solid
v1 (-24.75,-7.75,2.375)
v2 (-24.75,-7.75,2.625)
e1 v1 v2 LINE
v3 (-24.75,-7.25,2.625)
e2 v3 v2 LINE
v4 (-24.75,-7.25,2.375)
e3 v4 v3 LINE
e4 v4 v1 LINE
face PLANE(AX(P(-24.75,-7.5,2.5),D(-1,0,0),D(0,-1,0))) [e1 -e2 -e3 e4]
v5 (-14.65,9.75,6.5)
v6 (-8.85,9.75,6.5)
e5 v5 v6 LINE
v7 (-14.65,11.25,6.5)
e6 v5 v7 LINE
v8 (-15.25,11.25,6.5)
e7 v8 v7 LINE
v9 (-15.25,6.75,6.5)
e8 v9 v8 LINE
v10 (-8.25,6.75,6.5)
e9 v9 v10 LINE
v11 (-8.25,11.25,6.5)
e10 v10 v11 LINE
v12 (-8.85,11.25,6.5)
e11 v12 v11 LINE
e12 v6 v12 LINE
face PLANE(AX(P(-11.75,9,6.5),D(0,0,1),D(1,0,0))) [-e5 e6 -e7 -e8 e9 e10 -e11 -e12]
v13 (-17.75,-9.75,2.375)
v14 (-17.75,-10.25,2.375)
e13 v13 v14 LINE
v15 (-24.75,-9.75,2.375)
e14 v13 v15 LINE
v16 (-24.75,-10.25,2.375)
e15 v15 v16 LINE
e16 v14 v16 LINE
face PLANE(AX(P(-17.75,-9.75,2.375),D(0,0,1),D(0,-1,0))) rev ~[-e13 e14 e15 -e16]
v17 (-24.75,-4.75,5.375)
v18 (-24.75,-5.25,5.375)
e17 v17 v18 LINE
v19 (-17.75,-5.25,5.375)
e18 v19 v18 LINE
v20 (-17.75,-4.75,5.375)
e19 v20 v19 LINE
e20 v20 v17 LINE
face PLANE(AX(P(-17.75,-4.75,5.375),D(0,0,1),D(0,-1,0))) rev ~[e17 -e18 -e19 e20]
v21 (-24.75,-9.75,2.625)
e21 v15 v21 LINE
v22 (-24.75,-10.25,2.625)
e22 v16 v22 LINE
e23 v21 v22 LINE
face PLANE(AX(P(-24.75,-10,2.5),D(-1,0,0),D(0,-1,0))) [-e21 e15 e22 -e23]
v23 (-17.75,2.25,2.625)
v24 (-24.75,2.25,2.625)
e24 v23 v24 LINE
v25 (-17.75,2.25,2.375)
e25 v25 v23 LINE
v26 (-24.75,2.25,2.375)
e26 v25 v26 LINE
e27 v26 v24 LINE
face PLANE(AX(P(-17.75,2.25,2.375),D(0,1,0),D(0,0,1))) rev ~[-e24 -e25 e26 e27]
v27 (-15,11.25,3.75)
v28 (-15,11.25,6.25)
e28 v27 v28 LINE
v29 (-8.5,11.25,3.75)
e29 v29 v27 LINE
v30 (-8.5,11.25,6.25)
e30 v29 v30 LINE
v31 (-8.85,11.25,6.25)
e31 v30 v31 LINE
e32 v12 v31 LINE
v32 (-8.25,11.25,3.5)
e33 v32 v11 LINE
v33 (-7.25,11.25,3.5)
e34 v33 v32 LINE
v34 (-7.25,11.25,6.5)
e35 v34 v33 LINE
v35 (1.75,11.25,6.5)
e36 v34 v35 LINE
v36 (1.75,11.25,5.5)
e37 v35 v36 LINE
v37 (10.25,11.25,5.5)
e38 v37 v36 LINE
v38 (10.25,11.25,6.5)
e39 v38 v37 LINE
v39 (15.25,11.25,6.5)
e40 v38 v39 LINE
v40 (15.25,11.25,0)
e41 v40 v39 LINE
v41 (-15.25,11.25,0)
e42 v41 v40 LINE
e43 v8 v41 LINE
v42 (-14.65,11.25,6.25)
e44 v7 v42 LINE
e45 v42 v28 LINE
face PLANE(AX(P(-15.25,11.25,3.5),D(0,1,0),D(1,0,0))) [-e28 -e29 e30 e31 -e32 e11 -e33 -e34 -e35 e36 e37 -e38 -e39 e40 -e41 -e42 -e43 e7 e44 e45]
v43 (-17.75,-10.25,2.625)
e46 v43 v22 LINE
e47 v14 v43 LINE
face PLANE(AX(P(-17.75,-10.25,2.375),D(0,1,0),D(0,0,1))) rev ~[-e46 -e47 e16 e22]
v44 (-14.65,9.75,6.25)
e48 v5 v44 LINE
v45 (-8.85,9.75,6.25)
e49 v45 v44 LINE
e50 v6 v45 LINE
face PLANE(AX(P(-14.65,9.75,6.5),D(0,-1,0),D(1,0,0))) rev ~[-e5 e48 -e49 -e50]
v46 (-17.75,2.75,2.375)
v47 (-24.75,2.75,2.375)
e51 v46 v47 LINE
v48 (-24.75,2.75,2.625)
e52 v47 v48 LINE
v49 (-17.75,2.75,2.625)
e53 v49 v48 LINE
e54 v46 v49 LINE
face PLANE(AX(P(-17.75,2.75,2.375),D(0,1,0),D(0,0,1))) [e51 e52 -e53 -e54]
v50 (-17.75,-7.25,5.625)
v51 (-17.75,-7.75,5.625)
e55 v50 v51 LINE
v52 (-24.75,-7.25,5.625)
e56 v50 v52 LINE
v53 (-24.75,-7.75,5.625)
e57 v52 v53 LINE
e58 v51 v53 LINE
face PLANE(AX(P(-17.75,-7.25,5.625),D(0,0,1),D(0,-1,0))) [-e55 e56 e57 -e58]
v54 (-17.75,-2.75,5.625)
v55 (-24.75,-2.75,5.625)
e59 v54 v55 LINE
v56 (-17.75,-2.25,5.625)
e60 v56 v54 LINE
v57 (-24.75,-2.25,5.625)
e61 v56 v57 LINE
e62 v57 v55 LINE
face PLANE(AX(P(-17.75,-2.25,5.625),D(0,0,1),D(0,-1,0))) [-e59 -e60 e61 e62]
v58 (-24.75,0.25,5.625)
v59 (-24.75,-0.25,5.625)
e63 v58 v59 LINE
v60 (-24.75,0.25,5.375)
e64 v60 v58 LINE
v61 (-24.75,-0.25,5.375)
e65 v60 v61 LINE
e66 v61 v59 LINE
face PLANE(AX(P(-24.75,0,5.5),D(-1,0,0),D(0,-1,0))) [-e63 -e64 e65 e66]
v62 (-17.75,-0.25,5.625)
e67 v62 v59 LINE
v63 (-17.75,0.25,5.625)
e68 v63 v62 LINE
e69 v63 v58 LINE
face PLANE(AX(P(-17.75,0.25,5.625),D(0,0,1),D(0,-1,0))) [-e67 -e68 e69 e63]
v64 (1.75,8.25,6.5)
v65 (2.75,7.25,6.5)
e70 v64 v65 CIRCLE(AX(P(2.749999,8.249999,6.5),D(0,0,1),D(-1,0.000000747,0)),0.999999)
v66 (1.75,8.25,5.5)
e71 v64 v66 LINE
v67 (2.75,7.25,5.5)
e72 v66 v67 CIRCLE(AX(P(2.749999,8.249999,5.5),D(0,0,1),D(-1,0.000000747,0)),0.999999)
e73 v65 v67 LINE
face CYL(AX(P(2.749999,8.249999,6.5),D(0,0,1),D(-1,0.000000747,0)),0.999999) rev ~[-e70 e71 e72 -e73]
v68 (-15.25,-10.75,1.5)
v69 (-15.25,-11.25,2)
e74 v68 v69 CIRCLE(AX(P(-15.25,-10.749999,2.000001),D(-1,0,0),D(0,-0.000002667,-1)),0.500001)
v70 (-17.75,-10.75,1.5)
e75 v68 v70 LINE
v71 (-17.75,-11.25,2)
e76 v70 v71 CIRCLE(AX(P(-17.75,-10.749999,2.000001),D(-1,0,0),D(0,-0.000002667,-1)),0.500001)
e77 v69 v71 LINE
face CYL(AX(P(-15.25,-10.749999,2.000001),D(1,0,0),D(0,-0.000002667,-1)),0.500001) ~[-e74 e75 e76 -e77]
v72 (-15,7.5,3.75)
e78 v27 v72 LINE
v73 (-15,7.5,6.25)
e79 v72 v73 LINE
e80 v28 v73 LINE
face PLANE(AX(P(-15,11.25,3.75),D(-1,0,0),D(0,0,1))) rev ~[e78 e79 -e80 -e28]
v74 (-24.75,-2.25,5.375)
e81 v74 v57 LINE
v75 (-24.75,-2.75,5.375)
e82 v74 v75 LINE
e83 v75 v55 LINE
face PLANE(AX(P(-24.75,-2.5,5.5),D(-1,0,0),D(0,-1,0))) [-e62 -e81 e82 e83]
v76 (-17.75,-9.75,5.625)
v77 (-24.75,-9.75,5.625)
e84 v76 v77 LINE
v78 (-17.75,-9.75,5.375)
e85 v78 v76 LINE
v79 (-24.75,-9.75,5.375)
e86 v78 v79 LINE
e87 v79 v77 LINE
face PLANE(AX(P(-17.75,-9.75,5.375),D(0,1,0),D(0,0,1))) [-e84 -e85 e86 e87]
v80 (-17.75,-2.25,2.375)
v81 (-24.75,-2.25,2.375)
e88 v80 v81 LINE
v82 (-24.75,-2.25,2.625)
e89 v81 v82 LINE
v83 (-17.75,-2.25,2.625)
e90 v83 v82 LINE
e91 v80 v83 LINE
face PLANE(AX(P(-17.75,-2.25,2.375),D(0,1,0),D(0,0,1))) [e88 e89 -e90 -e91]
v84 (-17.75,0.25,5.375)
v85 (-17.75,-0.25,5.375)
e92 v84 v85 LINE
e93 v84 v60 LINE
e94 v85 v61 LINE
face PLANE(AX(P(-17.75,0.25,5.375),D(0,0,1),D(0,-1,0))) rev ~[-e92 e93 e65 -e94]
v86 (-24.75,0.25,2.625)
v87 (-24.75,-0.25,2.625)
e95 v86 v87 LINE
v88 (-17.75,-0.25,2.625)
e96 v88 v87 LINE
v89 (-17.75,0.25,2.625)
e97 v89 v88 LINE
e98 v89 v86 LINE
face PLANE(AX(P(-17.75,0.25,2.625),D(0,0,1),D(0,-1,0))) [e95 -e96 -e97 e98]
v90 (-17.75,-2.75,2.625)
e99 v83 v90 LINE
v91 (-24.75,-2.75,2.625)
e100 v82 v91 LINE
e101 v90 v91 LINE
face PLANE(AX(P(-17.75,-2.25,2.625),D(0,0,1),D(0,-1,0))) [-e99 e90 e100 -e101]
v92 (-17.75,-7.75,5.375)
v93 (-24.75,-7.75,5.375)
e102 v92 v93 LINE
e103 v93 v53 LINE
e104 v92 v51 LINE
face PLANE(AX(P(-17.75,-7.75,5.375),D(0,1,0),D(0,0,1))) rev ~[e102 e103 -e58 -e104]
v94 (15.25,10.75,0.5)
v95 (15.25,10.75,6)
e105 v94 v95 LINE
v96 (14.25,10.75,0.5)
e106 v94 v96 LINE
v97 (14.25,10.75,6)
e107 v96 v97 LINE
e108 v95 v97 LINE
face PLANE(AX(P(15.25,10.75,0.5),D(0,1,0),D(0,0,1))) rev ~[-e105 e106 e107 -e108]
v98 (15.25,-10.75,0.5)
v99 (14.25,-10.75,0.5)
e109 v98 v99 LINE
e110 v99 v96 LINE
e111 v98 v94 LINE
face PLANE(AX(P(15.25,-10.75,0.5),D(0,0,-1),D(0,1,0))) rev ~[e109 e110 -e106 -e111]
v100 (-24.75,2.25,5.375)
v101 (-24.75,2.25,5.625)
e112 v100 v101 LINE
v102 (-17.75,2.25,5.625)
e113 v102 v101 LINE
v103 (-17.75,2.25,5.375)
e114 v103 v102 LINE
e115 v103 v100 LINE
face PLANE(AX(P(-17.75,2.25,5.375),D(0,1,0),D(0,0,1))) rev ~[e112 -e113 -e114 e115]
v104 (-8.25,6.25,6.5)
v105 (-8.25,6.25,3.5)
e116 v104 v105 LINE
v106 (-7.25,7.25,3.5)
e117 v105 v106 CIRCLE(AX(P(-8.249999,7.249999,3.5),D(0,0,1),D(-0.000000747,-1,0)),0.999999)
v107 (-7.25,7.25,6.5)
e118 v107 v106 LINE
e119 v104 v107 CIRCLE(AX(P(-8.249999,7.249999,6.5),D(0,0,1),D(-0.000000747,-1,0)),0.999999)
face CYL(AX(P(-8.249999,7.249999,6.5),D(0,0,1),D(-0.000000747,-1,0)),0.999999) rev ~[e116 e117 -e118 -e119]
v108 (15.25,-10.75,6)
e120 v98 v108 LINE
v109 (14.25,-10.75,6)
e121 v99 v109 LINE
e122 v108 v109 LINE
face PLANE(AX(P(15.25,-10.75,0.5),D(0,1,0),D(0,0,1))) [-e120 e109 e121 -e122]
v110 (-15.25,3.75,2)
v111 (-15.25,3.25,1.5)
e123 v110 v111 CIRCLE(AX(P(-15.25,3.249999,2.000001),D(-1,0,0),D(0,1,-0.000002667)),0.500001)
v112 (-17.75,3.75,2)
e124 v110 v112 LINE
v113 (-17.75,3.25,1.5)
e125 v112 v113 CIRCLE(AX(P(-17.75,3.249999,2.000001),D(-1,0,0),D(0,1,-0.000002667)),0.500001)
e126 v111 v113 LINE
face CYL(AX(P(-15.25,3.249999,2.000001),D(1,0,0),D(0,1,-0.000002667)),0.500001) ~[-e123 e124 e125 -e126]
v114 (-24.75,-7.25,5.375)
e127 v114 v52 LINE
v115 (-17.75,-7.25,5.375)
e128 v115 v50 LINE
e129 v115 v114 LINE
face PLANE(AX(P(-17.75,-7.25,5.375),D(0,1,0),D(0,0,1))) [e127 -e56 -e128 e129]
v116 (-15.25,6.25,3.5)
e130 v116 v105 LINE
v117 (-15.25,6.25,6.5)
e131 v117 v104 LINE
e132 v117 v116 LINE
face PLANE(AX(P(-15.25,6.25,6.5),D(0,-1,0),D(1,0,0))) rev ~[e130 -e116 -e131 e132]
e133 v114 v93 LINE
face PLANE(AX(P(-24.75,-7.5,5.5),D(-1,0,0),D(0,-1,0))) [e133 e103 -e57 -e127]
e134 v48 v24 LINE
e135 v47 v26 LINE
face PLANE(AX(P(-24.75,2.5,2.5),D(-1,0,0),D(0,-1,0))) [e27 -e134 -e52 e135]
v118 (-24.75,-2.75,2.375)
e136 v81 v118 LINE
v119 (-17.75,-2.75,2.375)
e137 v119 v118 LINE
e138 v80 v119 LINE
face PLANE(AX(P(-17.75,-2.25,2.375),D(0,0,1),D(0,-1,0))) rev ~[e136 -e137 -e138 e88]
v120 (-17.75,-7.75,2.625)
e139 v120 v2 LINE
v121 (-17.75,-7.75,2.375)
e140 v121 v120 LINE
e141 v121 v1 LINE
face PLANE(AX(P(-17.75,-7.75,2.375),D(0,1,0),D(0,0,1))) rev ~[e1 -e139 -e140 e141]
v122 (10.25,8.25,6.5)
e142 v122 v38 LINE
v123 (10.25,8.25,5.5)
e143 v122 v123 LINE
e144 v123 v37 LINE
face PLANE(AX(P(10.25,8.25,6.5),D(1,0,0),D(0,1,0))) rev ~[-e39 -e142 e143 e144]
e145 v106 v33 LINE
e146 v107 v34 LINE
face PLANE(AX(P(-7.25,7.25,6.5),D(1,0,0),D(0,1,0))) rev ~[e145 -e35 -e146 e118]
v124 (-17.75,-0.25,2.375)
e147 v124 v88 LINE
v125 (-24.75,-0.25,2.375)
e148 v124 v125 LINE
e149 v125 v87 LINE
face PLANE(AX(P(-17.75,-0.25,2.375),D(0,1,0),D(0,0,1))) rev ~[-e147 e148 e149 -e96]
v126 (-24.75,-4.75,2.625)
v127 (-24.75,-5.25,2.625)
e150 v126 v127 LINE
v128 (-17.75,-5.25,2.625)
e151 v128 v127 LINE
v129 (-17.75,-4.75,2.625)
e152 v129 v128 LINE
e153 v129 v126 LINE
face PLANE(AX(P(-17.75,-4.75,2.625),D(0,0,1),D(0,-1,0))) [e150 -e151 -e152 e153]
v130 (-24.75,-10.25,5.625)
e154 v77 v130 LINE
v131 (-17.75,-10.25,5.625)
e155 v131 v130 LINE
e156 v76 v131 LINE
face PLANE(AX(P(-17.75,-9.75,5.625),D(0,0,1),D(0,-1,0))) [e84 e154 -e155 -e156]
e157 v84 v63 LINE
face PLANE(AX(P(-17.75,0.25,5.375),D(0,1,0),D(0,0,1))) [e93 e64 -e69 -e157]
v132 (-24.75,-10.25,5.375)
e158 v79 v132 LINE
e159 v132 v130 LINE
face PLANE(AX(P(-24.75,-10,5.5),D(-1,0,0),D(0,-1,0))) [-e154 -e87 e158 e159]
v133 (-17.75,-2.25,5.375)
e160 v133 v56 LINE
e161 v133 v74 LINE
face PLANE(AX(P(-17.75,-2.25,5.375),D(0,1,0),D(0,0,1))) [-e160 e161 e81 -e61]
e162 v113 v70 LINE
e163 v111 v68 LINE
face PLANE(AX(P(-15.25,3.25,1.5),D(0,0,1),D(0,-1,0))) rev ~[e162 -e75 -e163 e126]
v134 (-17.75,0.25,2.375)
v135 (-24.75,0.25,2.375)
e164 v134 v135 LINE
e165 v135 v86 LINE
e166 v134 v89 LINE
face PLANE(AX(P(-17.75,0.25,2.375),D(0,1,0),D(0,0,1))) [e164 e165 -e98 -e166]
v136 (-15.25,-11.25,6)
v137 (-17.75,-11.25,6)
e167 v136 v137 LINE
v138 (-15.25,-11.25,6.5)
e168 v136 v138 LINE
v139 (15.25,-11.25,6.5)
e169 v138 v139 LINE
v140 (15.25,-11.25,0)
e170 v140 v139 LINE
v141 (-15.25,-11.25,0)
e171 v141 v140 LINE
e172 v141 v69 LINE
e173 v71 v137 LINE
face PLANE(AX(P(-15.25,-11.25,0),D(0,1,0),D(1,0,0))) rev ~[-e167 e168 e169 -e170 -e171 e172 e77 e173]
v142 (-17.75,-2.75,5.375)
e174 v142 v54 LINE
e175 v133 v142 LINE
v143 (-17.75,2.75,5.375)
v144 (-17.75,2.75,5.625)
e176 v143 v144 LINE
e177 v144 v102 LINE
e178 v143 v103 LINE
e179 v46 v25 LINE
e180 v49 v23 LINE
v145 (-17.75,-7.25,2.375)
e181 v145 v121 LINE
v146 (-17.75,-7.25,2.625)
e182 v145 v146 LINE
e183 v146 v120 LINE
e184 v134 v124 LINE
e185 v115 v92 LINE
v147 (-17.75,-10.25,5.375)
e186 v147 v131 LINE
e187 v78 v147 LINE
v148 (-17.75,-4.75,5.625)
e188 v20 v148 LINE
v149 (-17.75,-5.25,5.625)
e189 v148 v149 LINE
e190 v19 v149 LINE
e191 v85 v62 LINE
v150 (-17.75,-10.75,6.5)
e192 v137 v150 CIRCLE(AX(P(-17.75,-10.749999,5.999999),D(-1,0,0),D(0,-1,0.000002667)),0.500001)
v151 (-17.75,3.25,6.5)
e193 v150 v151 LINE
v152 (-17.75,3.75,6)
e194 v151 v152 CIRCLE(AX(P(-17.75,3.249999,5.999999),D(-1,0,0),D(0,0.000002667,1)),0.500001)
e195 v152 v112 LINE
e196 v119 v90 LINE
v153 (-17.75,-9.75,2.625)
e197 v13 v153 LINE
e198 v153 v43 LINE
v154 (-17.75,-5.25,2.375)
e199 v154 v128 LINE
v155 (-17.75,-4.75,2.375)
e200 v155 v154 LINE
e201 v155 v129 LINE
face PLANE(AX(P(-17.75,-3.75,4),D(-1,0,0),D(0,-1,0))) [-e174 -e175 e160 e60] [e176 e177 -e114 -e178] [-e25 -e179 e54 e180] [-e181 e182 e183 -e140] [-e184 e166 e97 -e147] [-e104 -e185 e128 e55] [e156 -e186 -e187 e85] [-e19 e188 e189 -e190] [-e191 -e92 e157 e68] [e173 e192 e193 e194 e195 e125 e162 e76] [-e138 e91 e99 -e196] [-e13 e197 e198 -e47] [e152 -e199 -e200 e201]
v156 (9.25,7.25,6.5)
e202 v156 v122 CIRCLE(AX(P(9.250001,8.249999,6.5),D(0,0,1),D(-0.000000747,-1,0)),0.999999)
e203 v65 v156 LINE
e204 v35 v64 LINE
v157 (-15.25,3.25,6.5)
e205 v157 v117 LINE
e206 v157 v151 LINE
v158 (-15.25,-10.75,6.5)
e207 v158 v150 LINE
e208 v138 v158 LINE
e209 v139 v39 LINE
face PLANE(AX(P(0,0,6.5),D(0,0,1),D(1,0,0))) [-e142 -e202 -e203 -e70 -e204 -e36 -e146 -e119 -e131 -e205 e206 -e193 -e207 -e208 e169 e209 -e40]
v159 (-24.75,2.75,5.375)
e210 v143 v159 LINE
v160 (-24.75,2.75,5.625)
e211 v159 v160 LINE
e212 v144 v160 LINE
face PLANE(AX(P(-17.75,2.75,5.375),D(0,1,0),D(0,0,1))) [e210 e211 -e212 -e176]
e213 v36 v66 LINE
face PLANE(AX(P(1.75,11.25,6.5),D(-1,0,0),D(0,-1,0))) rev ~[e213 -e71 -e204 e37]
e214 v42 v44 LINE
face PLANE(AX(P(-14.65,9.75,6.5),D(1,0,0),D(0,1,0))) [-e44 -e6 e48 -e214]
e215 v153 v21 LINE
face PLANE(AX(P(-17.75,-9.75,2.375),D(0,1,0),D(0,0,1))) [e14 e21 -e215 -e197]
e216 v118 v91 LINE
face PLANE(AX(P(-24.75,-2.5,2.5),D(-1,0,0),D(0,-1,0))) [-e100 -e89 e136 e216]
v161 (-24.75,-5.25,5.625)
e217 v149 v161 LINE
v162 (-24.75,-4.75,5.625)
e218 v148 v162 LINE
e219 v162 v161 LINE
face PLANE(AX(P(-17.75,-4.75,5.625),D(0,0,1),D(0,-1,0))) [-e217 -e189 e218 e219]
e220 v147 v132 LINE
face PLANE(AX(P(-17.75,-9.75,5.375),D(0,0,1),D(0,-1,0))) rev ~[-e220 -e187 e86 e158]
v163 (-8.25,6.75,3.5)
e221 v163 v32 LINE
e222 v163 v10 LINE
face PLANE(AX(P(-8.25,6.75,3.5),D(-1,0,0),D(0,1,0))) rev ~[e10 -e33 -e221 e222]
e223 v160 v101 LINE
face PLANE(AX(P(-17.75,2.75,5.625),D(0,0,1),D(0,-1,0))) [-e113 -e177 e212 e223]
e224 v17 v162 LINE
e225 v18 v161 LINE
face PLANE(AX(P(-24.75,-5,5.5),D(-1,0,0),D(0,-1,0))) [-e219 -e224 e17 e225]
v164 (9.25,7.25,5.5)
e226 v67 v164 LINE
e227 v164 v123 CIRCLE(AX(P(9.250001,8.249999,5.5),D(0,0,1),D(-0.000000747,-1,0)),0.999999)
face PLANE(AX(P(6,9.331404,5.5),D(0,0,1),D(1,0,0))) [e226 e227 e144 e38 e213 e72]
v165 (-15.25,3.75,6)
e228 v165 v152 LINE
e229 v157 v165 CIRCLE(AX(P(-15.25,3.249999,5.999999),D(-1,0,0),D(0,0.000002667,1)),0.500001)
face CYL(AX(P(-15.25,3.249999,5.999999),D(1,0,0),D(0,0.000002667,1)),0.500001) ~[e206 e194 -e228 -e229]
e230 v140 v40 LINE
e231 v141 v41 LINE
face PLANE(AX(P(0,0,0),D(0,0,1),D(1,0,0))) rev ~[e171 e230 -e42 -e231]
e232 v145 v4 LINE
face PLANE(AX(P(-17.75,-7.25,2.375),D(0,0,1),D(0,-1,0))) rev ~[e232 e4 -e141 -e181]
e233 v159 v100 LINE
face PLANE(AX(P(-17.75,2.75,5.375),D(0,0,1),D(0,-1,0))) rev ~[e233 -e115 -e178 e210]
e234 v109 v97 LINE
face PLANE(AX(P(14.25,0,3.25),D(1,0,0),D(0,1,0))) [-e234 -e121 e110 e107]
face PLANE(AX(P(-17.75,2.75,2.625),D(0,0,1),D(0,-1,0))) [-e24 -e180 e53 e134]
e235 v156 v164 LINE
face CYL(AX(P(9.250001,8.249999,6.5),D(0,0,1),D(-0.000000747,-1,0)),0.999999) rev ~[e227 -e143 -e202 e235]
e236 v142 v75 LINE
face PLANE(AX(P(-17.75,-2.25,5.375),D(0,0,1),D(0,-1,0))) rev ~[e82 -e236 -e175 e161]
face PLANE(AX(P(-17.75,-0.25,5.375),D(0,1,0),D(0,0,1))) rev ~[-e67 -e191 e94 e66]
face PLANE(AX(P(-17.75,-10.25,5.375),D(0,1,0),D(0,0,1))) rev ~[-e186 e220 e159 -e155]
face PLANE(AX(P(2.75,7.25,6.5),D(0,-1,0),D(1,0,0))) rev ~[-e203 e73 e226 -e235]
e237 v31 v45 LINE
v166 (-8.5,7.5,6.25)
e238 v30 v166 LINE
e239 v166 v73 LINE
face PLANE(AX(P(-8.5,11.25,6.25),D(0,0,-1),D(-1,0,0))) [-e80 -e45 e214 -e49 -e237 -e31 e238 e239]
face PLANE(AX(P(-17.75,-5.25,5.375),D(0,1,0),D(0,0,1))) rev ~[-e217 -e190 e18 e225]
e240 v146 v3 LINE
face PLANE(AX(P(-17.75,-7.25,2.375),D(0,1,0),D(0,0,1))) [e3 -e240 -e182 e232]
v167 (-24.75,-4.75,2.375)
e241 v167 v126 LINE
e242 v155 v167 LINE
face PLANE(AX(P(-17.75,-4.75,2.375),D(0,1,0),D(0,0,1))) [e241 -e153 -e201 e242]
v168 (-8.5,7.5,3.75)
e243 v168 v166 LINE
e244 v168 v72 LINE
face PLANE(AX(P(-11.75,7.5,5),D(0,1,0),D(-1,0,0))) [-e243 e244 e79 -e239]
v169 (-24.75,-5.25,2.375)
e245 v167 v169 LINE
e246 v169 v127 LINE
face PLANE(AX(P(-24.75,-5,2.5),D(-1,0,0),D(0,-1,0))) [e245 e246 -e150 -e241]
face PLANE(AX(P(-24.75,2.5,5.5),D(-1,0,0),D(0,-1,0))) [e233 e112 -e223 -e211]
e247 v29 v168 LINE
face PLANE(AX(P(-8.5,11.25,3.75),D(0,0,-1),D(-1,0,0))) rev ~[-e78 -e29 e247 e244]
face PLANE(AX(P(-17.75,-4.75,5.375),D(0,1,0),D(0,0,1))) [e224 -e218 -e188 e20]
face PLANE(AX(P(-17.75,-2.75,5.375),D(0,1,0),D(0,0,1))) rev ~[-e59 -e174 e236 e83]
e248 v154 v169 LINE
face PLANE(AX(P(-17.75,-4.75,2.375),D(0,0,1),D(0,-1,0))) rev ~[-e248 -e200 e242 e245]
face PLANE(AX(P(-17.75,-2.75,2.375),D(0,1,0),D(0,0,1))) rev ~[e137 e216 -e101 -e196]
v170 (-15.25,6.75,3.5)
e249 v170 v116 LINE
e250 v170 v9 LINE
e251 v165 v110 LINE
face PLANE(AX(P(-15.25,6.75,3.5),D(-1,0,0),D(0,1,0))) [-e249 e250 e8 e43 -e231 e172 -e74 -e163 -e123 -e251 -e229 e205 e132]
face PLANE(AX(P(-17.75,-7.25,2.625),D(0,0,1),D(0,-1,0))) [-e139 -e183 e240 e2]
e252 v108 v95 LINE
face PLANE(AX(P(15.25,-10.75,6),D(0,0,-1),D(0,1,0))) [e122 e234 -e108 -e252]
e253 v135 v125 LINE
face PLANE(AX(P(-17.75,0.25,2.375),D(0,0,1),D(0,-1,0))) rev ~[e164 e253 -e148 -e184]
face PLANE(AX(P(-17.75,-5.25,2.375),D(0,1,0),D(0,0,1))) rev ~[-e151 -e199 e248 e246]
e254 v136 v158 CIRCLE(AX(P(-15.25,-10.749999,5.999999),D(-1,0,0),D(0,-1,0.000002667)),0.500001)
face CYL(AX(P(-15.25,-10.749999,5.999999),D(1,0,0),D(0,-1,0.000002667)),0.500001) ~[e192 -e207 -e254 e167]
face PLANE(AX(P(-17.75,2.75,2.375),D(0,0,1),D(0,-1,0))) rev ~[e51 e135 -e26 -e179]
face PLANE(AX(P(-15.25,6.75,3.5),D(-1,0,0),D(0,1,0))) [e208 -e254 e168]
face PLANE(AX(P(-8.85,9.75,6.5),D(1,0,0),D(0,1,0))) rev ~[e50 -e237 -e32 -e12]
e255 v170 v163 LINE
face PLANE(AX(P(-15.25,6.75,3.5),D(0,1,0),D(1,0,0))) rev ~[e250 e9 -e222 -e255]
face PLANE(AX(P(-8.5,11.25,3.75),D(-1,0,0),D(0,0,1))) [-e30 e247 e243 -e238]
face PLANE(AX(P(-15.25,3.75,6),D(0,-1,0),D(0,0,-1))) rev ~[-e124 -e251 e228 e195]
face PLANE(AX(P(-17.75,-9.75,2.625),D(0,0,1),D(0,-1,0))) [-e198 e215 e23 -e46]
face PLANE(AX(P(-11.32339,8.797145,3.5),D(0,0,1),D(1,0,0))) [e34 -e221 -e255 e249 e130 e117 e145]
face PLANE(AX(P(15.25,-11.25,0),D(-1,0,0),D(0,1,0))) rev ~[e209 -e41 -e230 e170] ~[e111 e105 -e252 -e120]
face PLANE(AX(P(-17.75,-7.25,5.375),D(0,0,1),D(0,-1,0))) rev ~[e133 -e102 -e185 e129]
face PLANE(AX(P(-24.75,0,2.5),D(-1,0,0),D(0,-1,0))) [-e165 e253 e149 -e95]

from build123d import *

# Parameters (mm, degrees)
F0_W      = 30.5
F0_H      = 22.5
F1_DEPTH  = 6.5
F3_DEPTH  = 3
F4_W      = 7
F4_H      = 4.5
F5_DEPTH  = 3
F6_W      = 6.5
F6_H      = 2.5
F7_DEPTH  = 3.75
F8_W      = 5.8
F8_H      = 1.5
F9_DEPTH  = 0.5
F11_DEPTH = 1
F13_DEPTH = 2.5
F14_W     = 0.5
F14_H     = 0.25
F15_DEPTH = 7
F16_W     = 21.5
F16_H     = 5.5
F17_DEPTH = 1


with BuildPart() as f1:
    # F0 (on Top) → F1 (new body)
    with BuildSketch(Plane.XY):
        Rectangle(F0_W, F0_H)
    extrude(amount=F1_DEPTH)

    # F2 (on face) → F3 (cut)
    with BuildSketch(Plane.XY.offset(6.5)):
        with BuildLine():
            Line((-7.25, 11.25), (-15.25, 11.25))
            Line((-15.25, 11.25), (-15.25, 6.25))
            Line((-15.25, 6.25), (-8.25, 6.25))
            ThreePointArc((-8.25, 6.25), (-7.542893, 6.542893), (-7.25, 7.25))
            Line((-7.25, 7.25), (-7.25, 11.25))
        make_face()
    extrude(amount=-F3_DEPTH, mode=Mode.SUBTRACT)

    # F4 (on face) → F5 (join)
    with BuildSketch(Plane.XY.offset(3.5)):
        with Locations((-11.75, 9)):
            Rectangle(F4_W, F4_H)
    extrude(amount=F5_DEPTH)

    # F6 (on face) → F7 (cut)
    with BuildSketch(Plane(origin=(0, 11.25, 0), x_dir=(-1, 0, 0), z_dir=(0, 1, 0))):
        with Locations((11.75, 5)):
            Rectangle(F6_W, F6_H)
    extrude(amount=-F7_DEPTH, mode=Mode.SUBTRACT)

    # F8 (on face) → F9 (cut)
    with BuildSketch(Plane.XY.offset(6.5)):
        with Locations((-11.75, 10.5)):
            Rectangle(F8_W, F8_H)
    extrude(amount=-F9_DEPTH, mode=Mode.SUBTRACT)

    # F10 (on face) → F11 (cut)
    with BuildSketch(Plane.XY.offset(6.5)):
        with BuildLine():
            Line((10.25, 11.25), (1.75, 11.25))
            Line((1.75, 11.25), (1.75, 8.25))
            ThreePointArc((1.75, 8.25), (2.042893, 7.542893), (2.75, 7.25))
            Line((2.75, 7.25), (9.25, 7.25))
            ThreePointArc((9.25, 7.25), (9.957107, 7.542893), (10.25, 8.25))
            Line((10.25, 8.25), (10.25, 11.25))
        make_face()
    extrude(amount=-F11_DEPTH, mode=Mode.SUBTRACT)

    # F12 (on face) → F13 (join)
    with BuildSketch(Plane(origin=(-15.25, 0, 0), x_dir=(0, -1, 0), z_dir=(-1, 0, 0))):
        with BuildLine():
            Line((10.75, 6.5), (-3.25, 6.5))
            ThreePointArc((-3.25, 6.5), (-3.603553, 6.353553), (-3.75, 6))
            Line((-3.75, 6), (-3.75, 2))
            ThreePointArc((-3.75, 2), (-3.603553, 1.646447), (-3.25, 1.5))
            Line((-3.25, 1.5), (10.75, 1.5))
            ThreePointArc((10.75, 1.5), (11.103553, 1.646447), (11.25, 2))
            Line((11.25, 2), (11.25, 6))
            ThreePointArc((11.25, 6), (11.103553, 6.353553), (10.75, 6.5))
        make_face()
    extrude(amount=F13_DEPTH)

    # F14 (on face) → F15 (join)
    with BuildSketch(Plane(origin=(-17.75, 0, 0), x_dir=(0, -1, 0), z_dir=(-1, 0, 0))):
        with Locations((-2.5, 5.5)):
            Rectangle(F14_W, F14_H)
        with Locations((-2.5, 2.5)):
            Rectangle(F14_W, F14_H)
        with Locations((0, 5.5)):
            Rectangle(F14_W, F14_H)
        with Locations((0, 2.5)):
            Rectangle(F14_W, F14_H)
        with Locations((2.5, 5.5)):
            Rectangle(F14_W, F14_H)
        with Locations((2.5, 2.5)):
            Rectangle(F14_W, F14_H)
        with Locations((5, 5.5)):
            Rectangle(F14_W, F14_H)
        with Locations((5, 2.5)):
            Rectangle(F14_W, F14_H)
        with Locations((7.5, 5.5)):
            Rectangle(F14_W, F14_H)
        with Locations((7.5, 2.5)):
            Rectangle(F14_W, F14_H)
        with Locations((10, 5.5)):
            Rectangle(F14_W, F14_H)
        with Locations((10, 2.5)):
            Rectangle(F14_W, F14_H)
    extrude(amount=F15_DEPTH)

    # F16 (on face) → F17 (cut)
    with BuildSketch(Plane.YZ.offset(15.25)):
        with Locations((0, 3.25)):
            Rectangle(F16_W, F16_H)
    extrude(amount=-F17_DEPTH, mode=Mode.SUBTRACT)


solid = f1.part
